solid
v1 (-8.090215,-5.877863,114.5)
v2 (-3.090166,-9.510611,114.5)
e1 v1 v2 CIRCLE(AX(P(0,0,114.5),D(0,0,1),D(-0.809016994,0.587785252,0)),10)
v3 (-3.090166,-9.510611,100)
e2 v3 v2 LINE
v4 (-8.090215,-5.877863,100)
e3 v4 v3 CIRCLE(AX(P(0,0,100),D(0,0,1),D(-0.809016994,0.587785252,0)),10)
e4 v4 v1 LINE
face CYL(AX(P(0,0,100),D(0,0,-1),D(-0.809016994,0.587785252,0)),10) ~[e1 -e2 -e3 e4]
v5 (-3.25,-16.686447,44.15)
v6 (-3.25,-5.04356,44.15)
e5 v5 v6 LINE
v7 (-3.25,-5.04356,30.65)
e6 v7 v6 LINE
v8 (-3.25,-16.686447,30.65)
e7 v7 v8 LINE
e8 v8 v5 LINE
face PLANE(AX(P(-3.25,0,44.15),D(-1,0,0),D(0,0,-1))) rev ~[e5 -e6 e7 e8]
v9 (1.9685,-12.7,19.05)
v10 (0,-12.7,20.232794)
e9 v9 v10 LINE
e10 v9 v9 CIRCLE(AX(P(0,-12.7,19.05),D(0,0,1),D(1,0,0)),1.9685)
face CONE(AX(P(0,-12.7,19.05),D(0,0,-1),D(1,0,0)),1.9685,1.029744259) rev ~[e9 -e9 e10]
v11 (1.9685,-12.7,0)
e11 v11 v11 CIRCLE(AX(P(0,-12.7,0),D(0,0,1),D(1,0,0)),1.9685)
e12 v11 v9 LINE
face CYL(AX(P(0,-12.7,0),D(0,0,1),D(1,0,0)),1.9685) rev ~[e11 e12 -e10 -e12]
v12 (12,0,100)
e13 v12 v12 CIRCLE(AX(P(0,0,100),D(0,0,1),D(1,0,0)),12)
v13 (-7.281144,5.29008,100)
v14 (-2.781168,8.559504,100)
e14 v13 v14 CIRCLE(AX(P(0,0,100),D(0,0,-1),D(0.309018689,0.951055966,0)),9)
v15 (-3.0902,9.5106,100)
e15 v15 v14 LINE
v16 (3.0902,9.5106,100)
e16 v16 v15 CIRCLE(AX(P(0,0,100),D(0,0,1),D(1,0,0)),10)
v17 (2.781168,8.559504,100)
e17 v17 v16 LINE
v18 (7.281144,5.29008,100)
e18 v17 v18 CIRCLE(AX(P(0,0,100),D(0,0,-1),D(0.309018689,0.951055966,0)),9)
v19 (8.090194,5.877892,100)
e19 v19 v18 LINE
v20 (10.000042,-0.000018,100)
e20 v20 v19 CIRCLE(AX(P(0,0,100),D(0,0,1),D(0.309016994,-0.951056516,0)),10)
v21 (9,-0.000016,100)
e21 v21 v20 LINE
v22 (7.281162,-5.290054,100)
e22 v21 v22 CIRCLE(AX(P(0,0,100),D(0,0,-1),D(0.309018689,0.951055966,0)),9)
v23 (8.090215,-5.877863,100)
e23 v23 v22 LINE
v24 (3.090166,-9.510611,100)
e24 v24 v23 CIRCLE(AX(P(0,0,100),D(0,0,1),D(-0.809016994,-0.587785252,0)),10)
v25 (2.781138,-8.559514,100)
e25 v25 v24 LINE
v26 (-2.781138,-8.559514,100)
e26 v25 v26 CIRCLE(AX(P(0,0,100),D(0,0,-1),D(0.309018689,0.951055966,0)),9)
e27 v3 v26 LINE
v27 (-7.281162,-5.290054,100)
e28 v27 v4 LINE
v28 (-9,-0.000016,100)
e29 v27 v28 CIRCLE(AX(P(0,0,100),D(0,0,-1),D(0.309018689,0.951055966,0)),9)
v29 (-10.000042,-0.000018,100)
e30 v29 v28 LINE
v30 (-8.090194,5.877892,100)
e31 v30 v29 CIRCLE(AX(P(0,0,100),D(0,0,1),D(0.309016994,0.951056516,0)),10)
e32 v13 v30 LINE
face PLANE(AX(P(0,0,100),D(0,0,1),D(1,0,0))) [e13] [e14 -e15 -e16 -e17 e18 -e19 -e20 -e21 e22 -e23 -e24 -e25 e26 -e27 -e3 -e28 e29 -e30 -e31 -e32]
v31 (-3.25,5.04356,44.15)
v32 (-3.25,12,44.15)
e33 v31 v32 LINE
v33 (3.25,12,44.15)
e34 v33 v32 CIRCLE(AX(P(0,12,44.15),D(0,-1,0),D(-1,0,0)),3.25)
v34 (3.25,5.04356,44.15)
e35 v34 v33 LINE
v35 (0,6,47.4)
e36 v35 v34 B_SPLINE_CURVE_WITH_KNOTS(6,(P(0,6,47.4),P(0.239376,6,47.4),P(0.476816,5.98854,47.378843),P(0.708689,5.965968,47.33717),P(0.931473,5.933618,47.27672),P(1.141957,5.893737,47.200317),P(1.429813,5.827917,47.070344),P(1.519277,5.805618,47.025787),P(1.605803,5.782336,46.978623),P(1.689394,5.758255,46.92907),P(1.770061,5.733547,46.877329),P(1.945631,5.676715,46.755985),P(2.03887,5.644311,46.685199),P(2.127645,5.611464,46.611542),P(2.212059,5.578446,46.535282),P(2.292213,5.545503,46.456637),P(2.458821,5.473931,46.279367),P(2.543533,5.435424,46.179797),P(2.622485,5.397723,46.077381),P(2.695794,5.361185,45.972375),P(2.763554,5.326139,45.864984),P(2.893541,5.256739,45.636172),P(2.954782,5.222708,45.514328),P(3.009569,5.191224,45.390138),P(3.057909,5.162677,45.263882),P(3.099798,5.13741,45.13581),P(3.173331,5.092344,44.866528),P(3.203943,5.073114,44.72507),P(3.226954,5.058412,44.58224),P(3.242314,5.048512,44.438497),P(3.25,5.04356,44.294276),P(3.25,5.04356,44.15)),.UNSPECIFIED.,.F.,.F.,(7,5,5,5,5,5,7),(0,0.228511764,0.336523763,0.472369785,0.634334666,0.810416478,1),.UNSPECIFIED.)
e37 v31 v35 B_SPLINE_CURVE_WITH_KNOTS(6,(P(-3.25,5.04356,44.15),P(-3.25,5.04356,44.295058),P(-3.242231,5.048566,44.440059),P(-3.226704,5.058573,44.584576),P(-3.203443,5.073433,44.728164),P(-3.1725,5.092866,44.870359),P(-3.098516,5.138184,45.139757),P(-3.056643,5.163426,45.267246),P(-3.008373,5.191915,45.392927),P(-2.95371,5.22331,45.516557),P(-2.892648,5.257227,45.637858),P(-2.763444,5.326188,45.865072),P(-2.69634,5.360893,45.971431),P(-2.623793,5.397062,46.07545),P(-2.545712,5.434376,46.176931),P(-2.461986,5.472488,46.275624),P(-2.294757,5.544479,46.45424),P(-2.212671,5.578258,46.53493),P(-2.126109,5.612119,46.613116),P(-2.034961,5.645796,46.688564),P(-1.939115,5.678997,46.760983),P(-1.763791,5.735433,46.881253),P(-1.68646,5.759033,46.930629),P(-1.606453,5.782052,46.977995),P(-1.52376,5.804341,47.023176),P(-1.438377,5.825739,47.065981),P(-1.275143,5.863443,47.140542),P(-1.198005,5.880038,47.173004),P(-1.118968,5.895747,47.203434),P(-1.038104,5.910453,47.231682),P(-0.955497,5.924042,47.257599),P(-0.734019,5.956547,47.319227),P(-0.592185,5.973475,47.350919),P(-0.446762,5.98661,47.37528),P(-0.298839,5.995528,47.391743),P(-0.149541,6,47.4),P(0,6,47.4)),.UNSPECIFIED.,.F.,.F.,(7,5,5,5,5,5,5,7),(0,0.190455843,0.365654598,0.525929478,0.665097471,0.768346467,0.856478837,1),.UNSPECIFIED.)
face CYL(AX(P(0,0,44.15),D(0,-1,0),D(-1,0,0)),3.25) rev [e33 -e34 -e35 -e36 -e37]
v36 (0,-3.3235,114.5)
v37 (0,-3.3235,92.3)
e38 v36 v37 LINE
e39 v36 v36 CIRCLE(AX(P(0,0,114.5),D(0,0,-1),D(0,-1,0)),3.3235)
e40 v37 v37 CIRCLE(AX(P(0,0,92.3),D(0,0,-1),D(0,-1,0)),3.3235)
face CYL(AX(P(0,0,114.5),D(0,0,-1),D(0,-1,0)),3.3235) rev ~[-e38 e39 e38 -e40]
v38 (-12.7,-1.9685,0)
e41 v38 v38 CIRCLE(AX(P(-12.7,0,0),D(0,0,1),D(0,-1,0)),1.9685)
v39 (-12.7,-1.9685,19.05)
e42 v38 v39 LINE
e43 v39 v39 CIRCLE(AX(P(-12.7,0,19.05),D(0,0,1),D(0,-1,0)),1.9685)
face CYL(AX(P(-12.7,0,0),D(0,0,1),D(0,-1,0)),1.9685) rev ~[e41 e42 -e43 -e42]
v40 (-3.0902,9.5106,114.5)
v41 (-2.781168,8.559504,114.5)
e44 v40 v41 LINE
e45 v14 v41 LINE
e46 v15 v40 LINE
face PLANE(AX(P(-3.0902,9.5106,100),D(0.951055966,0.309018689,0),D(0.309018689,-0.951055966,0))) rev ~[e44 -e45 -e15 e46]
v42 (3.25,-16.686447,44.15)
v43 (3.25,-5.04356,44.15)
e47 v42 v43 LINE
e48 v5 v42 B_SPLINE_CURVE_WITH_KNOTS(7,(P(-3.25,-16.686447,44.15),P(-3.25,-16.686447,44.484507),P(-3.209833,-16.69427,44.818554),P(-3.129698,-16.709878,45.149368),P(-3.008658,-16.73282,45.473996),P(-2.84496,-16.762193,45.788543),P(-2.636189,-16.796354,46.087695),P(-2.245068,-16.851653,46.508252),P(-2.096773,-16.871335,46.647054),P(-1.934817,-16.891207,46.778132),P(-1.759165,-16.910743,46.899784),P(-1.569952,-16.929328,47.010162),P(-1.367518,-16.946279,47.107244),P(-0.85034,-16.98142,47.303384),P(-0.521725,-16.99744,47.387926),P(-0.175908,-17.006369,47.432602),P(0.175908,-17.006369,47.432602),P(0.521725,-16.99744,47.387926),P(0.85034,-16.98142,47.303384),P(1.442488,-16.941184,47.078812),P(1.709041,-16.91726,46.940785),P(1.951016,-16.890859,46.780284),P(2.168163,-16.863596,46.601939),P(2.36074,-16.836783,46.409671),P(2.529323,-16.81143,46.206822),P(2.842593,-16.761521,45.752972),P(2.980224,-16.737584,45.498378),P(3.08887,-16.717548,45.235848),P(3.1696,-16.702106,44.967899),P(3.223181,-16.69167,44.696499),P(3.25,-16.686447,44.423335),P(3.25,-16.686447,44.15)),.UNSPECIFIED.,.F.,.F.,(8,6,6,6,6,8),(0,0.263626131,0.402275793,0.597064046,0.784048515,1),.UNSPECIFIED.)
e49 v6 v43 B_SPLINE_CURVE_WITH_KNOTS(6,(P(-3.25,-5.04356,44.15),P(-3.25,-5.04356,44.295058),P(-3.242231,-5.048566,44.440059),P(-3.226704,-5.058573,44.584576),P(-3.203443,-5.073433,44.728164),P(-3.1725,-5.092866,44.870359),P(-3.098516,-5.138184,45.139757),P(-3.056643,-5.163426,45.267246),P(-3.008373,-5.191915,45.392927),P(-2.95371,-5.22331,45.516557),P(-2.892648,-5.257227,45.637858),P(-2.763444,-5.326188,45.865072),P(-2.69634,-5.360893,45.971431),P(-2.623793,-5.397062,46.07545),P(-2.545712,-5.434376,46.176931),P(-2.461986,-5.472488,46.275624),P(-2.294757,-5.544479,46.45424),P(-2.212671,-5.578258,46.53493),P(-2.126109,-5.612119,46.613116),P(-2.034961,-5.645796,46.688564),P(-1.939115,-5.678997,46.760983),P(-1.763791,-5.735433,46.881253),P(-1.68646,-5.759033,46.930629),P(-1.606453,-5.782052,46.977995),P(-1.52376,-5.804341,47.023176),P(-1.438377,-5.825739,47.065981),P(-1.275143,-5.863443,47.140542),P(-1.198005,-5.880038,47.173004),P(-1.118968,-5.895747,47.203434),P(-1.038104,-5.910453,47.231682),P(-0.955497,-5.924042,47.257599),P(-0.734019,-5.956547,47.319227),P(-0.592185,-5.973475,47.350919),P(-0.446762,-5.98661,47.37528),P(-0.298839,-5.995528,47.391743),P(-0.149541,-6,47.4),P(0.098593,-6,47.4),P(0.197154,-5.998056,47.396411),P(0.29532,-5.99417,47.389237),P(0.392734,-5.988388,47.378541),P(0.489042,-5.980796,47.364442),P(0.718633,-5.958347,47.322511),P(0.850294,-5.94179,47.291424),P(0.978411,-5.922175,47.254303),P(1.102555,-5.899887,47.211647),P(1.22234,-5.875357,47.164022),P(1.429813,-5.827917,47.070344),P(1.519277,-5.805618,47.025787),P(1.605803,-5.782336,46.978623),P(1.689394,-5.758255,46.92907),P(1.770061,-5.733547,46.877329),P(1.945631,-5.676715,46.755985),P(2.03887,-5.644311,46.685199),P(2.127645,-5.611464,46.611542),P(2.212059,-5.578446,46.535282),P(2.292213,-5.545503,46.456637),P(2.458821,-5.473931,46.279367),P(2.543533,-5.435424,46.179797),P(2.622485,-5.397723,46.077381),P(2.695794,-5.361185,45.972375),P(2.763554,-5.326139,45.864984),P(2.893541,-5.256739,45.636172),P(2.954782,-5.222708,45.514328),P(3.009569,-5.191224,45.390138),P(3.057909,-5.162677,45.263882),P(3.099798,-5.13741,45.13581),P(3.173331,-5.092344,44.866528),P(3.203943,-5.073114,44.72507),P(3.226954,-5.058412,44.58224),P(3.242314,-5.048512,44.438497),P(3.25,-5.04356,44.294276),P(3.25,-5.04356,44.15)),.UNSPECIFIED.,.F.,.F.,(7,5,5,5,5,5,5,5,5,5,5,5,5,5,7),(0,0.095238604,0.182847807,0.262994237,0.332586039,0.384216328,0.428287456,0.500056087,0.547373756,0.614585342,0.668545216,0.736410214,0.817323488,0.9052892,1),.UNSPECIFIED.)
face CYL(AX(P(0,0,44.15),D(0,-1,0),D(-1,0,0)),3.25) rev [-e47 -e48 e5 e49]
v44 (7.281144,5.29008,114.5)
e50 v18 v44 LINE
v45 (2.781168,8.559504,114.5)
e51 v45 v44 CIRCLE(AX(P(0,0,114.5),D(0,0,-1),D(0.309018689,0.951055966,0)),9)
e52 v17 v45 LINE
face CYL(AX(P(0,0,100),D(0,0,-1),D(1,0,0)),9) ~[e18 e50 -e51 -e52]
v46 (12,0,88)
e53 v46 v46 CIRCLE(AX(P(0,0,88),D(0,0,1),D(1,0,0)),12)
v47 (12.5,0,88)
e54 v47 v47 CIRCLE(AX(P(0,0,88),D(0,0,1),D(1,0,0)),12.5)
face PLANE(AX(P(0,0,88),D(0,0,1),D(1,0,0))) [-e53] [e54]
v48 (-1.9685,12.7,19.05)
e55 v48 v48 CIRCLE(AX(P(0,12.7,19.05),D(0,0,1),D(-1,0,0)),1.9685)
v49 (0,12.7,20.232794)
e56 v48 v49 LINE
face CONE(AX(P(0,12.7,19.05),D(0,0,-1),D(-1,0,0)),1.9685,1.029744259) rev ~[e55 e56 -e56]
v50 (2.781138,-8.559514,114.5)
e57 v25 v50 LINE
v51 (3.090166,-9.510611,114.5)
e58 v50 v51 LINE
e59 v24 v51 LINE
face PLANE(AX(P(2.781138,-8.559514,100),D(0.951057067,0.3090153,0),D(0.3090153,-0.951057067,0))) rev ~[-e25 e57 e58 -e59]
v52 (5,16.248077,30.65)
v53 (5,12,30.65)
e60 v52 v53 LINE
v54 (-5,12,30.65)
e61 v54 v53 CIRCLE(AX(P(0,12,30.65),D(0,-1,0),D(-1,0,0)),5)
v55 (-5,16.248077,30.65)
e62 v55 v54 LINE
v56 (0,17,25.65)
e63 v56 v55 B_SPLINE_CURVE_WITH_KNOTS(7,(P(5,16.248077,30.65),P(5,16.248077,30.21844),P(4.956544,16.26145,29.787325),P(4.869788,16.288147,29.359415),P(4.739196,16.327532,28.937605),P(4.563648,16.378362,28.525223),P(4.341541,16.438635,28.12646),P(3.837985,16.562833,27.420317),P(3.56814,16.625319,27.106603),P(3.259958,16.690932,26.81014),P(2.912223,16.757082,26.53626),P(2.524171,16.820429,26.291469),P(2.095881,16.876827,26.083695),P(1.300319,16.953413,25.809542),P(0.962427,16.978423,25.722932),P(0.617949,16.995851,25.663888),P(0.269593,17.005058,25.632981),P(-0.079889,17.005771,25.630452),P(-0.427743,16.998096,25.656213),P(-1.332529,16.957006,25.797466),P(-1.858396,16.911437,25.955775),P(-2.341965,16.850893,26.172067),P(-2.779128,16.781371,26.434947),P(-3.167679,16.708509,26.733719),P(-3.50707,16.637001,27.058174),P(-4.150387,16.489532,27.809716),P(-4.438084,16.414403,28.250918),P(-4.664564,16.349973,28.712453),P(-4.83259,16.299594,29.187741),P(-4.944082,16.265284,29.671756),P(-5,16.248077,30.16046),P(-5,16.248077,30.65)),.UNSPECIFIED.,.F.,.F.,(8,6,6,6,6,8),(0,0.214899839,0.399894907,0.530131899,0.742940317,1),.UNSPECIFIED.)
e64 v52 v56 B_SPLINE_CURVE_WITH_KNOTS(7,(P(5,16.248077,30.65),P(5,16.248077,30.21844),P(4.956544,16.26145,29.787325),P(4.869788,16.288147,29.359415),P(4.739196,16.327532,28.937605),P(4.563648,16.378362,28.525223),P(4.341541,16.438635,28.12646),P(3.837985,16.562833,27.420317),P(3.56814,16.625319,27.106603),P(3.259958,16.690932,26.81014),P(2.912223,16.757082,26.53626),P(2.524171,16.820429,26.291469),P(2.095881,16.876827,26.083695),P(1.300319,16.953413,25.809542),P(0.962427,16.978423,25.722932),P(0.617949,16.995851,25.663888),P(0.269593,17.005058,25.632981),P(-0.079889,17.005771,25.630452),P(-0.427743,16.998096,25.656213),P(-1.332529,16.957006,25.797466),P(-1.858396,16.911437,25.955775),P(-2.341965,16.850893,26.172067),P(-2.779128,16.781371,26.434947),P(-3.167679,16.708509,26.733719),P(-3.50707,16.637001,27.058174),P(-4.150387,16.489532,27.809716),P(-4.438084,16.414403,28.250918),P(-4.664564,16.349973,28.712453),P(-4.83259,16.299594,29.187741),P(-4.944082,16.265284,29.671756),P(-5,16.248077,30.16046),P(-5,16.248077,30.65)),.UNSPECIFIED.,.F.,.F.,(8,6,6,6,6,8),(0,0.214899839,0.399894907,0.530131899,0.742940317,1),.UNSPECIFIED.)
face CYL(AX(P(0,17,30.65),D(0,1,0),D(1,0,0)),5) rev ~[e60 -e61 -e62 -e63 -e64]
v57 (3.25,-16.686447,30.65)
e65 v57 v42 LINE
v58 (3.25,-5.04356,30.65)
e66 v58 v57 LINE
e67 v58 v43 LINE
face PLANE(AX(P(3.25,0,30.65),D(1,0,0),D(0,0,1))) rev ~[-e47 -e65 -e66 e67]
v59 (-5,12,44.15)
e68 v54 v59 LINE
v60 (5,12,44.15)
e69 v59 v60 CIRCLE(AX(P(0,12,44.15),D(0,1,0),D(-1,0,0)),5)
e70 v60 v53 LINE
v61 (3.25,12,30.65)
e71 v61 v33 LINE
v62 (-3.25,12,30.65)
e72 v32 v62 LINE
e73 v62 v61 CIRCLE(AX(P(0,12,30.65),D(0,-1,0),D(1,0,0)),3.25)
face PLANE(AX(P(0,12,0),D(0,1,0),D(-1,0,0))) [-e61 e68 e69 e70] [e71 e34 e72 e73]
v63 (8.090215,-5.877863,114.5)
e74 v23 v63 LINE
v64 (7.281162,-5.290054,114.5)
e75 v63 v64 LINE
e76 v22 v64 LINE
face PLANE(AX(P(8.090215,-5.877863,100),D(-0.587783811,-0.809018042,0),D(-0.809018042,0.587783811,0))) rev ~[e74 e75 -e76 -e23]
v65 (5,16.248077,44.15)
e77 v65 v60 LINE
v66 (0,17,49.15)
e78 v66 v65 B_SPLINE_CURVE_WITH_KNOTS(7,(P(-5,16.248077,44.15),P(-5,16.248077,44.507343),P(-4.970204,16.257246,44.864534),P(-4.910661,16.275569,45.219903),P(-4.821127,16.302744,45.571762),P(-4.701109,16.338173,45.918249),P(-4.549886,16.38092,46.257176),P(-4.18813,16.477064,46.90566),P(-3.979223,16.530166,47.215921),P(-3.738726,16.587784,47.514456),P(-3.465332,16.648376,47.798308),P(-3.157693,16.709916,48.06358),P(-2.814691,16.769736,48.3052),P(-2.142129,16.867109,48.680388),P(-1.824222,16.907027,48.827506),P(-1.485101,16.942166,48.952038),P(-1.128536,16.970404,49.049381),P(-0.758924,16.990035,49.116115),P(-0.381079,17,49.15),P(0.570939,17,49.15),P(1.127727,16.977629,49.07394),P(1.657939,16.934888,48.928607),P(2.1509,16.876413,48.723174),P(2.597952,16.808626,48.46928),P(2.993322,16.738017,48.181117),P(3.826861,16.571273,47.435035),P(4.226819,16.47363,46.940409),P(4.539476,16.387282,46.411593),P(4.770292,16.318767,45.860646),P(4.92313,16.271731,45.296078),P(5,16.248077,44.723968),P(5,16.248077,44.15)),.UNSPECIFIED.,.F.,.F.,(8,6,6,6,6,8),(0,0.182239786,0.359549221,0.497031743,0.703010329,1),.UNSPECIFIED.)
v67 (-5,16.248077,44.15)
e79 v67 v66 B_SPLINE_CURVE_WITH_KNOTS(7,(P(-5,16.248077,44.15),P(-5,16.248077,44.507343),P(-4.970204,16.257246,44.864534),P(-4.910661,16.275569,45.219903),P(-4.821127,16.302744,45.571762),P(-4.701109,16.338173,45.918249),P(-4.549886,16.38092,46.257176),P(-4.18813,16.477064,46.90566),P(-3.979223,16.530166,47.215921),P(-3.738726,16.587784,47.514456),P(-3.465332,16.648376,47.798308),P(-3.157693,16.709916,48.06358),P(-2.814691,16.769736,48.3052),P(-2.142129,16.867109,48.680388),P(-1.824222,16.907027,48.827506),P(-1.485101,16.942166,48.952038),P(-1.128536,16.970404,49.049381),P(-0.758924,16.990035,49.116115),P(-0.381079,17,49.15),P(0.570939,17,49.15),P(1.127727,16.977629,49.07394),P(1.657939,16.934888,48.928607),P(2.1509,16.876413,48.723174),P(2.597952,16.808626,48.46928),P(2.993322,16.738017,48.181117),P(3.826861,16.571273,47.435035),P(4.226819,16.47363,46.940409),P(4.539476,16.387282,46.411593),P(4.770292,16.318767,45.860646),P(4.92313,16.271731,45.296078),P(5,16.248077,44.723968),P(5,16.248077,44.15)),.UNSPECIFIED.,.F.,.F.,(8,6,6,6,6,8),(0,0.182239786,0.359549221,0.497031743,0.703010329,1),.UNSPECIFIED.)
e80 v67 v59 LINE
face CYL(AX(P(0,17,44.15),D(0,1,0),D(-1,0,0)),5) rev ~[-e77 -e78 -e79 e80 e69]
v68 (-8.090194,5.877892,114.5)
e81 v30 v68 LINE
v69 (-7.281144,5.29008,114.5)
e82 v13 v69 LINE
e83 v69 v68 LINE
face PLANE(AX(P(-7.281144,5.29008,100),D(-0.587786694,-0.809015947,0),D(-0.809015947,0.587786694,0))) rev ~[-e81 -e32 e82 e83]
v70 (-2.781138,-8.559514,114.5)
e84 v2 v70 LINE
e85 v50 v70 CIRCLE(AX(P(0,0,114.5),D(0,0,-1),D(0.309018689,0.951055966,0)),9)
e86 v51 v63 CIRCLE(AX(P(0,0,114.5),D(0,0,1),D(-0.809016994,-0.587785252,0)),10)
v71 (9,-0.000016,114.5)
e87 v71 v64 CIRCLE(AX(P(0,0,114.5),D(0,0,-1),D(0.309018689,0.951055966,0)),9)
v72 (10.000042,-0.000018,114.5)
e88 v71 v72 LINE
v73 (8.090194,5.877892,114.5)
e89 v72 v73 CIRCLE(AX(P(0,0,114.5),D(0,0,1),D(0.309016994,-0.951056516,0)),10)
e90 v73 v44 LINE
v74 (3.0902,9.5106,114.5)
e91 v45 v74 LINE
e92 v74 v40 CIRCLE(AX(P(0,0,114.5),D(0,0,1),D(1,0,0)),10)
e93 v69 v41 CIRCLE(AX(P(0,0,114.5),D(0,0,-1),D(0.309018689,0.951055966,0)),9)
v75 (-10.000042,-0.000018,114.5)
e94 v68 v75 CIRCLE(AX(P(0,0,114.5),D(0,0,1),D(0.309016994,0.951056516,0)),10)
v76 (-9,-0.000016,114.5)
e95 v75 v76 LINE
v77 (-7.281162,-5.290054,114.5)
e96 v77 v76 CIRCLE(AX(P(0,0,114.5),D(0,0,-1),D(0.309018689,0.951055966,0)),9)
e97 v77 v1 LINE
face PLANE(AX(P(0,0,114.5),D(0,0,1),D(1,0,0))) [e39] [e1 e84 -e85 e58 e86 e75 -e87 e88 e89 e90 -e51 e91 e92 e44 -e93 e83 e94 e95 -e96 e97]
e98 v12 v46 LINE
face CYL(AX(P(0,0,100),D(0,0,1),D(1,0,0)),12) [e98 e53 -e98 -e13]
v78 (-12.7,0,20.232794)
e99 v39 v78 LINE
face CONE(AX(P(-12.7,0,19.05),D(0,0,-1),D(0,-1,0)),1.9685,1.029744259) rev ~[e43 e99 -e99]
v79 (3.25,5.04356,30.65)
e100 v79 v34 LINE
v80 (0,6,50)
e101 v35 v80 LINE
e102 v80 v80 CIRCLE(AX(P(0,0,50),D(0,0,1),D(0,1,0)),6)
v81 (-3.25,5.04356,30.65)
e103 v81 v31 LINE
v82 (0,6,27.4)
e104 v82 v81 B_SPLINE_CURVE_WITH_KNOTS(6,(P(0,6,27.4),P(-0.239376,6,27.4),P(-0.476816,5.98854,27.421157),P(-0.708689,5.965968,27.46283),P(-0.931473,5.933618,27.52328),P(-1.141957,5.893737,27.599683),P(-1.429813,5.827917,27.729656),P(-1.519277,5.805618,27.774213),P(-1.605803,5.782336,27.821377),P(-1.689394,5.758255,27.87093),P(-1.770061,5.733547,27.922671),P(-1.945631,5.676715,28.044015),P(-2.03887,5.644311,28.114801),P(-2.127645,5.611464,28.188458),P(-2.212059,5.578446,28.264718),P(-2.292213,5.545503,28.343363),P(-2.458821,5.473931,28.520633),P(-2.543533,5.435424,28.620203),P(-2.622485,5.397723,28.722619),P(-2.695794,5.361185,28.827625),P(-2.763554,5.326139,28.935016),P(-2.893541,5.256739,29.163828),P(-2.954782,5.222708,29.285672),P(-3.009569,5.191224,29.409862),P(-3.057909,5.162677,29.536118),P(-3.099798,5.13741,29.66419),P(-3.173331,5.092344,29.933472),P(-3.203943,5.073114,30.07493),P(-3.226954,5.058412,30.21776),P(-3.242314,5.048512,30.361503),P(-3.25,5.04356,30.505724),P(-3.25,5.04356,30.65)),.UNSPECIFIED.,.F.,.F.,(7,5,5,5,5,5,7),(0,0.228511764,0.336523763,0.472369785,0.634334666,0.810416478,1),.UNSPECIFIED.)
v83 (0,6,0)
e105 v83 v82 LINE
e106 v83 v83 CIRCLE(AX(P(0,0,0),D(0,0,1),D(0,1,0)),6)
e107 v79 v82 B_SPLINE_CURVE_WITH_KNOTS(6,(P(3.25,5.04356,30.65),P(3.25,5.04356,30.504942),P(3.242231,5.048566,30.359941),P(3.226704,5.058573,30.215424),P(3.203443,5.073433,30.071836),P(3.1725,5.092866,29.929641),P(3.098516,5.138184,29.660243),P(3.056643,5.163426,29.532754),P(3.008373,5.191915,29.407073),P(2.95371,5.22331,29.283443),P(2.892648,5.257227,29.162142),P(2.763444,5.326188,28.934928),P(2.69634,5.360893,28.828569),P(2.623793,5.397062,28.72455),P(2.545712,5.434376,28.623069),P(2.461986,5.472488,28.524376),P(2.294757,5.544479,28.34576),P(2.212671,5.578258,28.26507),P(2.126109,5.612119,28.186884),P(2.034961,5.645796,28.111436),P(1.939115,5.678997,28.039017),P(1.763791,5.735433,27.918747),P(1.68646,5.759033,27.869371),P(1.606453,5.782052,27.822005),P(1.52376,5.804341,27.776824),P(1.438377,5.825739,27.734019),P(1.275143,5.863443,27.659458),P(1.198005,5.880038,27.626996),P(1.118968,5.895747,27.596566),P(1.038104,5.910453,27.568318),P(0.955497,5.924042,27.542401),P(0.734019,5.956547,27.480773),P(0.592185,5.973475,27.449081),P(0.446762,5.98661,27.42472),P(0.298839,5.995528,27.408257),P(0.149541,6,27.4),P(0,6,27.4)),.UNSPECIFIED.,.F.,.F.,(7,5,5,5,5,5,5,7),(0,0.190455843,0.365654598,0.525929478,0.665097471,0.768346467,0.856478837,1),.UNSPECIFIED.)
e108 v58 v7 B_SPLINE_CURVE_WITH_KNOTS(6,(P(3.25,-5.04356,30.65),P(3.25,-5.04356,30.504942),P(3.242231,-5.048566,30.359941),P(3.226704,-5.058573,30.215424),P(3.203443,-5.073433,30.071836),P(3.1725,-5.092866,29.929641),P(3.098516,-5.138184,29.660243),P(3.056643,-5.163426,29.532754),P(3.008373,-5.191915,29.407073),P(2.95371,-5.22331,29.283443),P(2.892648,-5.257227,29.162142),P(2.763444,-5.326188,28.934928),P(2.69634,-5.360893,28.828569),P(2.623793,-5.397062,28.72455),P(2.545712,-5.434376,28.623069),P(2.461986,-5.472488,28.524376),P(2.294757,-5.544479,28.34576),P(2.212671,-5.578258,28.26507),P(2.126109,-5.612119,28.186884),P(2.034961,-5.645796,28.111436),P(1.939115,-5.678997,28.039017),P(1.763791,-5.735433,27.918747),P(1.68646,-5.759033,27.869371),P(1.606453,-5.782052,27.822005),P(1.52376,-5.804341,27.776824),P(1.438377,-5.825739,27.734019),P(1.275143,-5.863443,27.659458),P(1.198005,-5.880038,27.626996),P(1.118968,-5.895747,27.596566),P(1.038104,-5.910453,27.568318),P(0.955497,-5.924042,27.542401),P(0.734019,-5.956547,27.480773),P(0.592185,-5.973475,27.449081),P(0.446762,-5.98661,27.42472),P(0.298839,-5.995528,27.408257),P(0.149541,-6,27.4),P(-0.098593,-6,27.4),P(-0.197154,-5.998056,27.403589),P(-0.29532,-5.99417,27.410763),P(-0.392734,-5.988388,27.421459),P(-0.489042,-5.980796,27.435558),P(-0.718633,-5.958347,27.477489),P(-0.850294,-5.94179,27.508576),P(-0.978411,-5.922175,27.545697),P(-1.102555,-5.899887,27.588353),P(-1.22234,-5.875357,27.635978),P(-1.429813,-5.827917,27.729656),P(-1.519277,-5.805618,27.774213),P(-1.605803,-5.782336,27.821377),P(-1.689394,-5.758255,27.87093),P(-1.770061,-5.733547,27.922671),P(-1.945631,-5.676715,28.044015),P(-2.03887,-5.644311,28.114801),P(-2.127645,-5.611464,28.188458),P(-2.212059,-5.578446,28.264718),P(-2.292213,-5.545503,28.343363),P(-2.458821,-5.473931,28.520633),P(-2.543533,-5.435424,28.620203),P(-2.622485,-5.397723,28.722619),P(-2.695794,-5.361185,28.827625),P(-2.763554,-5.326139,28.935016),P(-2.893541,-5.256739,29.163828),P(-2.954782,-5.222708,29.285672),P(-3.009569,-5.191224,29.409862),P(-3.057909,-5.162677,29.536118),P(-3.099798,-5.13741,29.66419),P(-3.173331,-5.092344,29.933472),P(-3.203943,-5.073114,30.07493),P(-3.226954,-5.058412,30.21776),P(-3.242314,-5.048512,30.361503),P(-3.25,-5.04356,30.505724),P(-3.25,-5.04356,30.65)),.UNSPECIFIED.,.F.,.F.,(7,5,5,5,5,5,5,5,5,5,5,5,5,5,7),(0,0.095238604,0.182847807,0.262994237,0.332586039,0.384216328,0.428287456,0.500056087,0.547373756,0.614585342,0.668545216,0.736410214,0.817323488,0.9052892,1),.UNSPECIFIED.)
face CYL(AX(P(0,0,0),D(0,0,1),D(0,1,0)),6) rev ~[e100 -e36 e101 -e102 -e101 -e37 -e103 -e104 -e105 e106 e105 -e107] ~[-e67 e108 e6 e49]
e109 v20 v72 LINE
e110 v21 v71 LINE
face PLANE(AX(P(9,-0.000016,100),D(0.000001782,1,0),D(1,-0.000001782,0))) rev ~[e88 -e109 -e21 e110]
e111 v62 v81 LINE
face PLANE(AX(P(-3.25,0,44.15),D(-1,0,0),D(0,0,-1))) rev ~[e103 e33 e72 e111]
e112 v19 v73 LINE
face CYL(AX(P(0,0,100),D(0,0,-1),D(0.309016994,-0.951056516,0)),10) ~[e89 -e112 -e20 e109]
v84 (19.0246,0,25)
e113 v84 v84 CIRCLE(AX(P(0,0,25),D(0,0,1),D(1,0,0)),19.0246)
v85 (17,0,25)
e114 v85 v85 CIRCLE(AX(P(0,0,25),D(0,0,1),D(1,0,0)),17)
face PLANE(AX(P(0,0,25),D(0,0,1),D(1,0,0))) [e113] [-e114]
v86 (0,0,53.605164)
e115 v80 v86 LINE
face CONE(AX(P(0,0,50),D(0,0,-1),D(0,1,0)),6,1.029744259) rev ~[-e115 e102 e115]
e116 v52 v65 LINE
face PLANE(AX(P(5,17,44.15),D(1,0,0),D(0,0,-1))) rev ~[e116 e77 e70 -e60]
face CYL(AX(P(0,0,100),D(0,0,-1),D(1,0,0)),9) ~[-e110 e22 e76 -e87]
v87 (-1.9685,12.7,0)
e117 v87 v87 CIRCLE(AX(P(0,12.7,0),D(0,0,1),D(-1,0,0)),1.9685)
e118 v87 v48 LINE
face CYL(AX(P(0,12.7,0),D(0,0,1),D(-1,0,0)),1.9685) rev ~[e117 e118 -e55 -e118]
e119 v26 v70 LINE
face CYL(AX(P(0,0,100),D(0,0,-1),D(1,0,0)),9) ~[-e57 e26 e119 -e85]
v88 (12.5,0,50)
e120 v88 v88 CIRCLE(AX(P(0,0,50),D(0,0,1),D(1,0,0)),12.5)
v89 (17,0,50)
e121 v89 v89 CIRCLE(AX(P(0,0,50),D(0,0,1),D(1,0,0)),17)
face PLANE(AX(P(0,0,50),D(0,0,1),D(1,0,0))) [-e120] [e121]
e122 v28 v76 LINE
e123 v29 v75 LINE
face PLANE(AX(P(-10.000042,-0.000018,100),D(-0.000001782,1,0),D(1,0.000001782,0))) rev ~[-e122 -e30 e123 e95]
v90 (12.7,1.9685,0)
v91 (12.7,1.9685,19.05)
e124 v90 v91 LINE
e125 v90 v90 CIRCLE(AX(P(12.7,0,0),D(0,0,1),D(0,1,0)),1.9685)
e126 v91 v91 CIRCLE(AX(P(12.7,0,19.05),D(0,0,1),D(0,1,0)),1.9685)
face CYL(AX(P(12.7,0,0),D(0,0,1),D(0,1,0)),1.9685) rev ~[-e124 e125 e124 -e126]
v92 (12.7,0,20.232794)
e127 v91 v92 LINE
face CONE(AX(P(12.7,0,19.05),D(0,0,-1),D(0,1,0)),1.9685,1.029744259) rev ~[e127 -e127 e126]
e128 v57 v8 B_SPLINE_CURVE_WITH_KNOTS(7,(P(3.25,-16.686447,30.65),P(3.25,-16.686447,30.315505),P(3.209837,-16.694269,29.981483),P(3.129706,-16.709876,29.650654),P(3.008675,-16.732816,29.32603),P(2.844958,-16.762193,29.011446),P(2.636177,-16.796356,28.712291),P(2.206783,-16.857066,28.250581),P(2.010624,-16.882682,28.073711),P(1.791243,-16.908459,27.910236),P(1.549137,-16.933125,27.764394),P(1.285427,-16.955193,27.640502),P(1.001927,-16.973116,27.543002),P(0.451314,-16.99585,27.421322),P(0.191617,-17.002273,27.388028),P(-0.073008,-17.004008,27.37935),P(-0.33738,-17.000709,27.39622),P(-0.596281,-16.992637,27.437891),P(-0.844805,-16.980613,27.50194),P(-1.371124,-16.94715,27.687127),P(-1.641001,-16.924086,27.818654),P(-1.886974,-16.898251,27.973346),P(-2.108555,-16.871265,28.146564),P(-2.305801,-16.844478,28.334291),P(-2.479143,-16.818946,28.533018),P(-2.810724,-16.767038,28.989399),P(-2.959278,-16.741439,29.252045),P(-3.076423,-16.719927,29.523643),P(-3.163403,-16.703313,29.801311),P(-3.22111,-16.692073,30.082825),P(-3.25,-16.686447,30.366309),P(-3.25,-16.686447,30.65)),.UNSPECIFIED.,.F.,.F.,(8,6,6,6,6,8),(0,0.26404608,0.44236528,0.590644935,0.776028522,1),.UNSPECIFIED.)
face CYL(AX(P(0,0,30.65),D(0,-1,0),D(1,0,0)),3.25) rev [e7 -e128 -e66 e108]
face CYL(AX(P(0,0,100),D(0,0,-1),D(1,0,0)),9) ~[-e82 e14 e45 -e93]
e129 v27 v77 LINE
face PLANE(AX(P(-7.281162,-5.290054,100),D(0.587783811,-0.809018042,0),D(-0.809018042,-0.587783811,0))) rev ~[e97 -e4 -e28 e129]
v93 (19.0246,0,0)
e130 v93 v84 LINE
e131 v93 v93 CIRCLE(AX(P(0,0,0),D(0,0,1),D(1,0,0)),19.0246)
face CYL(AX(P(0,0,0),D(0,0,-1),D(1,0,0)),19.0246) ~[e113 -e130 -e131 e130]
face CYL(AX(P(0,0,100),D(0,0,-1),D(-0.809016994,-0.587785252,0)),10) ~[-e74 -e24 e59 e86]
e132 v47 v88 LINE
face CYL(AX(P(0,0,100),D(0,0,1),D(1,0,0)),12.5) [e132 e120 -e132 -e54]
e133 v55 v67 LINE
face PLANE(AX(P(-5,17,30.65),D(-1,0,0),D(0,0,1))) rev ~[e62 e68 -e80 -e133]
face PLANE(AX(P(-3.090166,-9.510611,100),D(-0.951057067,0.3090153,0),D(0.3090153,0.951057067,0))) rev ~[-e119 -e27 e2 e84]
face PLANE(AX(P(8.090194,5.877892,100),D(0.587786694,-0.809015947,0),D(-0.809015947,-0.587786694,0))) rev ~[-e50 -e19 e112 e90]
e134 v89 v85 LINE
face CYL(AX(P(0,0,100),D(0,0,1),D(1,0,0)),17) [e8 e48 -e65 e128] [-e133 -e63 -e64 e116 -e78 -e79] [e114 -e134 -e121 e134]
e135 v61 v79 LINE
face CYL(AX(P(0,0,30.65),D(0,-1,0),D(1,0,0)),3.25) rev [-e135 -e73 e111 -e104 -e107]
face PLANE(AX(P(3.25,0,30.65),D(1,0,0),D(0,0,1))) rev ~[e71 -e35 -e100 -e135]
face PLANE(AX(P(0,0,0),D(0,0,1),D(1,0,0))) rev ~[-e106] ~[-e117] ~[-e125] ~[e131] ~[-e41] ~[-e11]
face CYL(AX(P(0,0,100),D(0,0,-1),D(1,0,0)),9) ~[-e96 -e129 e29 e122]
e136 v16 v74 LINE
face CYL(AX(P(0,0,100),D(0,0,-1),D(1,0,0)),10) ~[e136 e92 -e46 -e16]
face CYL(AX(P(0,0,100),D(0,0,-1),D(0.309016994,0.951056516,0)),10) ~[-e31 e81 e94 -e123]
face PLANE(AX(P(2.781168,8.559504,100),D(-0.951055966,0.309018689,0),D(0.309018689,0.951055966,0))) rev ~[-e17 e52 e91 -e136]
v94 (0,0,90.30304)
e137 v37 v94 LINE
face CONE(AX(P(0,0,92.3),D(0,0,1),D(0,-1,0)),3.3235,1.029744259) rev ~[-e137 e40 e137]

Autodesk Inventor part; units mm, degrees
ref_plane "YZ Plane" through (0, 0, 0) normal (1, 0, 0) x (0, 1, 0)
ref_plane "Offsets" through (0, 0, 50) normal (0, 0, 1) x (1, 0, 0)
ref_plane "Work Plane4" through (0, 0, 25) normal (0, 0, 1) x (1, 0, 0)
sketch "Sketch1" plane through (0, 0, 0) normal (0, 0, 1) x (1, 0, 0)
  circle A0 centre (0, 0) radius 19.0246
  dimension "d0" = 38.0492
extrude "Extrusion1" add sketch "Sketch1" along normal blind 100
sketch "Sketch2" plane through (0, 0, 100) normal (0, 0, 1) x (1, 0, 0)
  circle A0 centre (0, 0) radius 19.0246 projected
  circle A1 centre (0, 0) radius 17
  dimension "d3" = 34
extrude "Extrusion2" cut sketch "Sketch2" against normal up to surface (75 mm away)
sketch "Sketch8" plane through (0, 0, 100) normal (0, 0, 1) x (1, 0, 0)
  circle A0 centre (0, 0) radius 17 projected
  circle A1 centre (0, 0) radius 12.5
  dimension "d75" = 25
extrude "Extrusion7" cut sketch "Sketch8" against normal up to surface (50 mm away)
sketch "Sketch3" plane through (0, 0, 0) normal (0, 0, -1) x (-1, 0, 0)
  circle A0 centre (0, 0) radius 19.0246 projected
hole "Hole1" at (0, 0, 0) direction (0, 0, 1) diameter 12 depth 50 tip angle 118
sketch "Sketch4" plane through (0, 0, 0) normal (0, 1, 0) x (-1, 0, 0)
  line L0 (-19.0246, 0) -> (19.0246, 0) projected
  line L1 (3.25, 44.15) -> (3.25, 30.65)
  line L2 (-3.25, 30.65) -> (-3.25, 44.15)
  arc A0 (-3.25, 30.65) -> (3.25, 30.65) centre (0, 30.65) ccw
  arc A1 (3.25, 44.15) -> (-3.25, 44.15) centre (0, 44.15) ccw
  line L3 (0, -9.83) -> (0, 58.98) projected
  line L4 (-5, 44.15) -> (-5, 30.65)
  arc A2 (-5, 30.65) -> (5, 30.65) centre (0, 30.65) ccw
  line L5 (5, 30.65) -> (5, 44.15)
  arc A3 (5, 44.15) -> (-5, 44.15) centre (0, 44.15) ccw
  point P0 (-19.0246, 25.4)
  point P1 (19.0246, 25.4)
  dimension "d13" = 6.5
  dimension "d15" = 20
  dimension "d76" = 5
extrude "Extrusion3" cut sketch "Sketch4" along normal through all both and the other way through all contours L1 A0 L3 A1 | L3 A0 L2 A1
sketch "Sketch9" plane through (0, 0, 0) normal (0, 0, -1) x (-1, 0, 0)
  circle A0 centre (0, 0) radius 19.0246 projected
  circle A1 centre (0, 0) radius 12.7 construction
  point P0 (-12.7, 0)
  dimension "d49" = 25.4
hole "Hole3" at (12.7, 0, 0) direction (0, 0, 1) diameter 3.937 depth 19.05 tip angle 118 thread size "10-24 UNC" class "2B" standard "ANSI Unified Screw Threads"
pattern_circular "Circular Pattern1" count 4 over 360 about axis through (0, 0, 25) along (0, 0, -1) of "Hole3"
ref_plane "Work Plane3" through (0, 17, 100) normal (0, 1, 0) x (-1, 0, 0)
extrude "Extrusion12" cut sketch "Sketch4" against normal blind 5 from surface at 17
sketch "Sketch12" plane through (0, 0, 100) normal (0, 0, 1) x (1, 0, 0)
  circle A0 centre (0, 0) radius 10
  circle A1 centre (0, 0) radius 9
  line L0 (-3.0902, 9.5106) -> (-3.0902, 8.4529) construction
  line L1 (3.0902, 9.5106) -> (3.0902, 8.4529) construction
  line L2 (-3.0902, 9.5106) -> (0, 0)
  line L3 (0, 0) -> (3.0902, 9.5106)
  point P0 (2.7812, 8.5595)
  point P1 (-2.7812, 8.5595)
  dimension "d85" = 20
  dimension "d98" = 18
  dimension "d112" = 36
sketch "Sketch15" plane through (0, 0, 100) normal (0, 0, 1) x (1, 0, 0)
  circle A0 centre (0, 0) radius 12
  circle A1 centre (0, 0) radius 12.5 projected
  dimension "d113" = 24
extrude "Extrusion15" cut sketch "Sketch15" against normal blind 12
thread "Thread1" size "M24x2" class "6g" standard "ISO Metric profile" full length
extrude "Extrusion13" add sketch "Sketch12" along normal blind 14.5 contours L3 L2 A1 | A1 L2 L3
extrude "Extrusion14" add sketch "Sketch12" along normal up to surface (14.5 mm away) contours L3 A1 L2 A0 picked at (1.6921, 9.4688)
pattern_circular "Circular Pattern2" count 5 over 360 about axis through (0, 0, -10) along (0, 0, 1) of "Extrusion14"
sketch "Sketch14" plane through (0, 0, 114.5) normal (0, 0, 1) x (1, 0, 0)
  point P0 (0, 0)
  point P1 (0, 0)
  point P2 (0, 0)
hole "Hole6" at (0, 0, 114.5) direction (0, 0, -1) diameter 6.647 depth 22.2 tip angle 118 thread size "M8x1.25" class "6H" standard "ISO Metric profile"
properties part number "PWTR-0035" material "Stainless Steel, 303"
